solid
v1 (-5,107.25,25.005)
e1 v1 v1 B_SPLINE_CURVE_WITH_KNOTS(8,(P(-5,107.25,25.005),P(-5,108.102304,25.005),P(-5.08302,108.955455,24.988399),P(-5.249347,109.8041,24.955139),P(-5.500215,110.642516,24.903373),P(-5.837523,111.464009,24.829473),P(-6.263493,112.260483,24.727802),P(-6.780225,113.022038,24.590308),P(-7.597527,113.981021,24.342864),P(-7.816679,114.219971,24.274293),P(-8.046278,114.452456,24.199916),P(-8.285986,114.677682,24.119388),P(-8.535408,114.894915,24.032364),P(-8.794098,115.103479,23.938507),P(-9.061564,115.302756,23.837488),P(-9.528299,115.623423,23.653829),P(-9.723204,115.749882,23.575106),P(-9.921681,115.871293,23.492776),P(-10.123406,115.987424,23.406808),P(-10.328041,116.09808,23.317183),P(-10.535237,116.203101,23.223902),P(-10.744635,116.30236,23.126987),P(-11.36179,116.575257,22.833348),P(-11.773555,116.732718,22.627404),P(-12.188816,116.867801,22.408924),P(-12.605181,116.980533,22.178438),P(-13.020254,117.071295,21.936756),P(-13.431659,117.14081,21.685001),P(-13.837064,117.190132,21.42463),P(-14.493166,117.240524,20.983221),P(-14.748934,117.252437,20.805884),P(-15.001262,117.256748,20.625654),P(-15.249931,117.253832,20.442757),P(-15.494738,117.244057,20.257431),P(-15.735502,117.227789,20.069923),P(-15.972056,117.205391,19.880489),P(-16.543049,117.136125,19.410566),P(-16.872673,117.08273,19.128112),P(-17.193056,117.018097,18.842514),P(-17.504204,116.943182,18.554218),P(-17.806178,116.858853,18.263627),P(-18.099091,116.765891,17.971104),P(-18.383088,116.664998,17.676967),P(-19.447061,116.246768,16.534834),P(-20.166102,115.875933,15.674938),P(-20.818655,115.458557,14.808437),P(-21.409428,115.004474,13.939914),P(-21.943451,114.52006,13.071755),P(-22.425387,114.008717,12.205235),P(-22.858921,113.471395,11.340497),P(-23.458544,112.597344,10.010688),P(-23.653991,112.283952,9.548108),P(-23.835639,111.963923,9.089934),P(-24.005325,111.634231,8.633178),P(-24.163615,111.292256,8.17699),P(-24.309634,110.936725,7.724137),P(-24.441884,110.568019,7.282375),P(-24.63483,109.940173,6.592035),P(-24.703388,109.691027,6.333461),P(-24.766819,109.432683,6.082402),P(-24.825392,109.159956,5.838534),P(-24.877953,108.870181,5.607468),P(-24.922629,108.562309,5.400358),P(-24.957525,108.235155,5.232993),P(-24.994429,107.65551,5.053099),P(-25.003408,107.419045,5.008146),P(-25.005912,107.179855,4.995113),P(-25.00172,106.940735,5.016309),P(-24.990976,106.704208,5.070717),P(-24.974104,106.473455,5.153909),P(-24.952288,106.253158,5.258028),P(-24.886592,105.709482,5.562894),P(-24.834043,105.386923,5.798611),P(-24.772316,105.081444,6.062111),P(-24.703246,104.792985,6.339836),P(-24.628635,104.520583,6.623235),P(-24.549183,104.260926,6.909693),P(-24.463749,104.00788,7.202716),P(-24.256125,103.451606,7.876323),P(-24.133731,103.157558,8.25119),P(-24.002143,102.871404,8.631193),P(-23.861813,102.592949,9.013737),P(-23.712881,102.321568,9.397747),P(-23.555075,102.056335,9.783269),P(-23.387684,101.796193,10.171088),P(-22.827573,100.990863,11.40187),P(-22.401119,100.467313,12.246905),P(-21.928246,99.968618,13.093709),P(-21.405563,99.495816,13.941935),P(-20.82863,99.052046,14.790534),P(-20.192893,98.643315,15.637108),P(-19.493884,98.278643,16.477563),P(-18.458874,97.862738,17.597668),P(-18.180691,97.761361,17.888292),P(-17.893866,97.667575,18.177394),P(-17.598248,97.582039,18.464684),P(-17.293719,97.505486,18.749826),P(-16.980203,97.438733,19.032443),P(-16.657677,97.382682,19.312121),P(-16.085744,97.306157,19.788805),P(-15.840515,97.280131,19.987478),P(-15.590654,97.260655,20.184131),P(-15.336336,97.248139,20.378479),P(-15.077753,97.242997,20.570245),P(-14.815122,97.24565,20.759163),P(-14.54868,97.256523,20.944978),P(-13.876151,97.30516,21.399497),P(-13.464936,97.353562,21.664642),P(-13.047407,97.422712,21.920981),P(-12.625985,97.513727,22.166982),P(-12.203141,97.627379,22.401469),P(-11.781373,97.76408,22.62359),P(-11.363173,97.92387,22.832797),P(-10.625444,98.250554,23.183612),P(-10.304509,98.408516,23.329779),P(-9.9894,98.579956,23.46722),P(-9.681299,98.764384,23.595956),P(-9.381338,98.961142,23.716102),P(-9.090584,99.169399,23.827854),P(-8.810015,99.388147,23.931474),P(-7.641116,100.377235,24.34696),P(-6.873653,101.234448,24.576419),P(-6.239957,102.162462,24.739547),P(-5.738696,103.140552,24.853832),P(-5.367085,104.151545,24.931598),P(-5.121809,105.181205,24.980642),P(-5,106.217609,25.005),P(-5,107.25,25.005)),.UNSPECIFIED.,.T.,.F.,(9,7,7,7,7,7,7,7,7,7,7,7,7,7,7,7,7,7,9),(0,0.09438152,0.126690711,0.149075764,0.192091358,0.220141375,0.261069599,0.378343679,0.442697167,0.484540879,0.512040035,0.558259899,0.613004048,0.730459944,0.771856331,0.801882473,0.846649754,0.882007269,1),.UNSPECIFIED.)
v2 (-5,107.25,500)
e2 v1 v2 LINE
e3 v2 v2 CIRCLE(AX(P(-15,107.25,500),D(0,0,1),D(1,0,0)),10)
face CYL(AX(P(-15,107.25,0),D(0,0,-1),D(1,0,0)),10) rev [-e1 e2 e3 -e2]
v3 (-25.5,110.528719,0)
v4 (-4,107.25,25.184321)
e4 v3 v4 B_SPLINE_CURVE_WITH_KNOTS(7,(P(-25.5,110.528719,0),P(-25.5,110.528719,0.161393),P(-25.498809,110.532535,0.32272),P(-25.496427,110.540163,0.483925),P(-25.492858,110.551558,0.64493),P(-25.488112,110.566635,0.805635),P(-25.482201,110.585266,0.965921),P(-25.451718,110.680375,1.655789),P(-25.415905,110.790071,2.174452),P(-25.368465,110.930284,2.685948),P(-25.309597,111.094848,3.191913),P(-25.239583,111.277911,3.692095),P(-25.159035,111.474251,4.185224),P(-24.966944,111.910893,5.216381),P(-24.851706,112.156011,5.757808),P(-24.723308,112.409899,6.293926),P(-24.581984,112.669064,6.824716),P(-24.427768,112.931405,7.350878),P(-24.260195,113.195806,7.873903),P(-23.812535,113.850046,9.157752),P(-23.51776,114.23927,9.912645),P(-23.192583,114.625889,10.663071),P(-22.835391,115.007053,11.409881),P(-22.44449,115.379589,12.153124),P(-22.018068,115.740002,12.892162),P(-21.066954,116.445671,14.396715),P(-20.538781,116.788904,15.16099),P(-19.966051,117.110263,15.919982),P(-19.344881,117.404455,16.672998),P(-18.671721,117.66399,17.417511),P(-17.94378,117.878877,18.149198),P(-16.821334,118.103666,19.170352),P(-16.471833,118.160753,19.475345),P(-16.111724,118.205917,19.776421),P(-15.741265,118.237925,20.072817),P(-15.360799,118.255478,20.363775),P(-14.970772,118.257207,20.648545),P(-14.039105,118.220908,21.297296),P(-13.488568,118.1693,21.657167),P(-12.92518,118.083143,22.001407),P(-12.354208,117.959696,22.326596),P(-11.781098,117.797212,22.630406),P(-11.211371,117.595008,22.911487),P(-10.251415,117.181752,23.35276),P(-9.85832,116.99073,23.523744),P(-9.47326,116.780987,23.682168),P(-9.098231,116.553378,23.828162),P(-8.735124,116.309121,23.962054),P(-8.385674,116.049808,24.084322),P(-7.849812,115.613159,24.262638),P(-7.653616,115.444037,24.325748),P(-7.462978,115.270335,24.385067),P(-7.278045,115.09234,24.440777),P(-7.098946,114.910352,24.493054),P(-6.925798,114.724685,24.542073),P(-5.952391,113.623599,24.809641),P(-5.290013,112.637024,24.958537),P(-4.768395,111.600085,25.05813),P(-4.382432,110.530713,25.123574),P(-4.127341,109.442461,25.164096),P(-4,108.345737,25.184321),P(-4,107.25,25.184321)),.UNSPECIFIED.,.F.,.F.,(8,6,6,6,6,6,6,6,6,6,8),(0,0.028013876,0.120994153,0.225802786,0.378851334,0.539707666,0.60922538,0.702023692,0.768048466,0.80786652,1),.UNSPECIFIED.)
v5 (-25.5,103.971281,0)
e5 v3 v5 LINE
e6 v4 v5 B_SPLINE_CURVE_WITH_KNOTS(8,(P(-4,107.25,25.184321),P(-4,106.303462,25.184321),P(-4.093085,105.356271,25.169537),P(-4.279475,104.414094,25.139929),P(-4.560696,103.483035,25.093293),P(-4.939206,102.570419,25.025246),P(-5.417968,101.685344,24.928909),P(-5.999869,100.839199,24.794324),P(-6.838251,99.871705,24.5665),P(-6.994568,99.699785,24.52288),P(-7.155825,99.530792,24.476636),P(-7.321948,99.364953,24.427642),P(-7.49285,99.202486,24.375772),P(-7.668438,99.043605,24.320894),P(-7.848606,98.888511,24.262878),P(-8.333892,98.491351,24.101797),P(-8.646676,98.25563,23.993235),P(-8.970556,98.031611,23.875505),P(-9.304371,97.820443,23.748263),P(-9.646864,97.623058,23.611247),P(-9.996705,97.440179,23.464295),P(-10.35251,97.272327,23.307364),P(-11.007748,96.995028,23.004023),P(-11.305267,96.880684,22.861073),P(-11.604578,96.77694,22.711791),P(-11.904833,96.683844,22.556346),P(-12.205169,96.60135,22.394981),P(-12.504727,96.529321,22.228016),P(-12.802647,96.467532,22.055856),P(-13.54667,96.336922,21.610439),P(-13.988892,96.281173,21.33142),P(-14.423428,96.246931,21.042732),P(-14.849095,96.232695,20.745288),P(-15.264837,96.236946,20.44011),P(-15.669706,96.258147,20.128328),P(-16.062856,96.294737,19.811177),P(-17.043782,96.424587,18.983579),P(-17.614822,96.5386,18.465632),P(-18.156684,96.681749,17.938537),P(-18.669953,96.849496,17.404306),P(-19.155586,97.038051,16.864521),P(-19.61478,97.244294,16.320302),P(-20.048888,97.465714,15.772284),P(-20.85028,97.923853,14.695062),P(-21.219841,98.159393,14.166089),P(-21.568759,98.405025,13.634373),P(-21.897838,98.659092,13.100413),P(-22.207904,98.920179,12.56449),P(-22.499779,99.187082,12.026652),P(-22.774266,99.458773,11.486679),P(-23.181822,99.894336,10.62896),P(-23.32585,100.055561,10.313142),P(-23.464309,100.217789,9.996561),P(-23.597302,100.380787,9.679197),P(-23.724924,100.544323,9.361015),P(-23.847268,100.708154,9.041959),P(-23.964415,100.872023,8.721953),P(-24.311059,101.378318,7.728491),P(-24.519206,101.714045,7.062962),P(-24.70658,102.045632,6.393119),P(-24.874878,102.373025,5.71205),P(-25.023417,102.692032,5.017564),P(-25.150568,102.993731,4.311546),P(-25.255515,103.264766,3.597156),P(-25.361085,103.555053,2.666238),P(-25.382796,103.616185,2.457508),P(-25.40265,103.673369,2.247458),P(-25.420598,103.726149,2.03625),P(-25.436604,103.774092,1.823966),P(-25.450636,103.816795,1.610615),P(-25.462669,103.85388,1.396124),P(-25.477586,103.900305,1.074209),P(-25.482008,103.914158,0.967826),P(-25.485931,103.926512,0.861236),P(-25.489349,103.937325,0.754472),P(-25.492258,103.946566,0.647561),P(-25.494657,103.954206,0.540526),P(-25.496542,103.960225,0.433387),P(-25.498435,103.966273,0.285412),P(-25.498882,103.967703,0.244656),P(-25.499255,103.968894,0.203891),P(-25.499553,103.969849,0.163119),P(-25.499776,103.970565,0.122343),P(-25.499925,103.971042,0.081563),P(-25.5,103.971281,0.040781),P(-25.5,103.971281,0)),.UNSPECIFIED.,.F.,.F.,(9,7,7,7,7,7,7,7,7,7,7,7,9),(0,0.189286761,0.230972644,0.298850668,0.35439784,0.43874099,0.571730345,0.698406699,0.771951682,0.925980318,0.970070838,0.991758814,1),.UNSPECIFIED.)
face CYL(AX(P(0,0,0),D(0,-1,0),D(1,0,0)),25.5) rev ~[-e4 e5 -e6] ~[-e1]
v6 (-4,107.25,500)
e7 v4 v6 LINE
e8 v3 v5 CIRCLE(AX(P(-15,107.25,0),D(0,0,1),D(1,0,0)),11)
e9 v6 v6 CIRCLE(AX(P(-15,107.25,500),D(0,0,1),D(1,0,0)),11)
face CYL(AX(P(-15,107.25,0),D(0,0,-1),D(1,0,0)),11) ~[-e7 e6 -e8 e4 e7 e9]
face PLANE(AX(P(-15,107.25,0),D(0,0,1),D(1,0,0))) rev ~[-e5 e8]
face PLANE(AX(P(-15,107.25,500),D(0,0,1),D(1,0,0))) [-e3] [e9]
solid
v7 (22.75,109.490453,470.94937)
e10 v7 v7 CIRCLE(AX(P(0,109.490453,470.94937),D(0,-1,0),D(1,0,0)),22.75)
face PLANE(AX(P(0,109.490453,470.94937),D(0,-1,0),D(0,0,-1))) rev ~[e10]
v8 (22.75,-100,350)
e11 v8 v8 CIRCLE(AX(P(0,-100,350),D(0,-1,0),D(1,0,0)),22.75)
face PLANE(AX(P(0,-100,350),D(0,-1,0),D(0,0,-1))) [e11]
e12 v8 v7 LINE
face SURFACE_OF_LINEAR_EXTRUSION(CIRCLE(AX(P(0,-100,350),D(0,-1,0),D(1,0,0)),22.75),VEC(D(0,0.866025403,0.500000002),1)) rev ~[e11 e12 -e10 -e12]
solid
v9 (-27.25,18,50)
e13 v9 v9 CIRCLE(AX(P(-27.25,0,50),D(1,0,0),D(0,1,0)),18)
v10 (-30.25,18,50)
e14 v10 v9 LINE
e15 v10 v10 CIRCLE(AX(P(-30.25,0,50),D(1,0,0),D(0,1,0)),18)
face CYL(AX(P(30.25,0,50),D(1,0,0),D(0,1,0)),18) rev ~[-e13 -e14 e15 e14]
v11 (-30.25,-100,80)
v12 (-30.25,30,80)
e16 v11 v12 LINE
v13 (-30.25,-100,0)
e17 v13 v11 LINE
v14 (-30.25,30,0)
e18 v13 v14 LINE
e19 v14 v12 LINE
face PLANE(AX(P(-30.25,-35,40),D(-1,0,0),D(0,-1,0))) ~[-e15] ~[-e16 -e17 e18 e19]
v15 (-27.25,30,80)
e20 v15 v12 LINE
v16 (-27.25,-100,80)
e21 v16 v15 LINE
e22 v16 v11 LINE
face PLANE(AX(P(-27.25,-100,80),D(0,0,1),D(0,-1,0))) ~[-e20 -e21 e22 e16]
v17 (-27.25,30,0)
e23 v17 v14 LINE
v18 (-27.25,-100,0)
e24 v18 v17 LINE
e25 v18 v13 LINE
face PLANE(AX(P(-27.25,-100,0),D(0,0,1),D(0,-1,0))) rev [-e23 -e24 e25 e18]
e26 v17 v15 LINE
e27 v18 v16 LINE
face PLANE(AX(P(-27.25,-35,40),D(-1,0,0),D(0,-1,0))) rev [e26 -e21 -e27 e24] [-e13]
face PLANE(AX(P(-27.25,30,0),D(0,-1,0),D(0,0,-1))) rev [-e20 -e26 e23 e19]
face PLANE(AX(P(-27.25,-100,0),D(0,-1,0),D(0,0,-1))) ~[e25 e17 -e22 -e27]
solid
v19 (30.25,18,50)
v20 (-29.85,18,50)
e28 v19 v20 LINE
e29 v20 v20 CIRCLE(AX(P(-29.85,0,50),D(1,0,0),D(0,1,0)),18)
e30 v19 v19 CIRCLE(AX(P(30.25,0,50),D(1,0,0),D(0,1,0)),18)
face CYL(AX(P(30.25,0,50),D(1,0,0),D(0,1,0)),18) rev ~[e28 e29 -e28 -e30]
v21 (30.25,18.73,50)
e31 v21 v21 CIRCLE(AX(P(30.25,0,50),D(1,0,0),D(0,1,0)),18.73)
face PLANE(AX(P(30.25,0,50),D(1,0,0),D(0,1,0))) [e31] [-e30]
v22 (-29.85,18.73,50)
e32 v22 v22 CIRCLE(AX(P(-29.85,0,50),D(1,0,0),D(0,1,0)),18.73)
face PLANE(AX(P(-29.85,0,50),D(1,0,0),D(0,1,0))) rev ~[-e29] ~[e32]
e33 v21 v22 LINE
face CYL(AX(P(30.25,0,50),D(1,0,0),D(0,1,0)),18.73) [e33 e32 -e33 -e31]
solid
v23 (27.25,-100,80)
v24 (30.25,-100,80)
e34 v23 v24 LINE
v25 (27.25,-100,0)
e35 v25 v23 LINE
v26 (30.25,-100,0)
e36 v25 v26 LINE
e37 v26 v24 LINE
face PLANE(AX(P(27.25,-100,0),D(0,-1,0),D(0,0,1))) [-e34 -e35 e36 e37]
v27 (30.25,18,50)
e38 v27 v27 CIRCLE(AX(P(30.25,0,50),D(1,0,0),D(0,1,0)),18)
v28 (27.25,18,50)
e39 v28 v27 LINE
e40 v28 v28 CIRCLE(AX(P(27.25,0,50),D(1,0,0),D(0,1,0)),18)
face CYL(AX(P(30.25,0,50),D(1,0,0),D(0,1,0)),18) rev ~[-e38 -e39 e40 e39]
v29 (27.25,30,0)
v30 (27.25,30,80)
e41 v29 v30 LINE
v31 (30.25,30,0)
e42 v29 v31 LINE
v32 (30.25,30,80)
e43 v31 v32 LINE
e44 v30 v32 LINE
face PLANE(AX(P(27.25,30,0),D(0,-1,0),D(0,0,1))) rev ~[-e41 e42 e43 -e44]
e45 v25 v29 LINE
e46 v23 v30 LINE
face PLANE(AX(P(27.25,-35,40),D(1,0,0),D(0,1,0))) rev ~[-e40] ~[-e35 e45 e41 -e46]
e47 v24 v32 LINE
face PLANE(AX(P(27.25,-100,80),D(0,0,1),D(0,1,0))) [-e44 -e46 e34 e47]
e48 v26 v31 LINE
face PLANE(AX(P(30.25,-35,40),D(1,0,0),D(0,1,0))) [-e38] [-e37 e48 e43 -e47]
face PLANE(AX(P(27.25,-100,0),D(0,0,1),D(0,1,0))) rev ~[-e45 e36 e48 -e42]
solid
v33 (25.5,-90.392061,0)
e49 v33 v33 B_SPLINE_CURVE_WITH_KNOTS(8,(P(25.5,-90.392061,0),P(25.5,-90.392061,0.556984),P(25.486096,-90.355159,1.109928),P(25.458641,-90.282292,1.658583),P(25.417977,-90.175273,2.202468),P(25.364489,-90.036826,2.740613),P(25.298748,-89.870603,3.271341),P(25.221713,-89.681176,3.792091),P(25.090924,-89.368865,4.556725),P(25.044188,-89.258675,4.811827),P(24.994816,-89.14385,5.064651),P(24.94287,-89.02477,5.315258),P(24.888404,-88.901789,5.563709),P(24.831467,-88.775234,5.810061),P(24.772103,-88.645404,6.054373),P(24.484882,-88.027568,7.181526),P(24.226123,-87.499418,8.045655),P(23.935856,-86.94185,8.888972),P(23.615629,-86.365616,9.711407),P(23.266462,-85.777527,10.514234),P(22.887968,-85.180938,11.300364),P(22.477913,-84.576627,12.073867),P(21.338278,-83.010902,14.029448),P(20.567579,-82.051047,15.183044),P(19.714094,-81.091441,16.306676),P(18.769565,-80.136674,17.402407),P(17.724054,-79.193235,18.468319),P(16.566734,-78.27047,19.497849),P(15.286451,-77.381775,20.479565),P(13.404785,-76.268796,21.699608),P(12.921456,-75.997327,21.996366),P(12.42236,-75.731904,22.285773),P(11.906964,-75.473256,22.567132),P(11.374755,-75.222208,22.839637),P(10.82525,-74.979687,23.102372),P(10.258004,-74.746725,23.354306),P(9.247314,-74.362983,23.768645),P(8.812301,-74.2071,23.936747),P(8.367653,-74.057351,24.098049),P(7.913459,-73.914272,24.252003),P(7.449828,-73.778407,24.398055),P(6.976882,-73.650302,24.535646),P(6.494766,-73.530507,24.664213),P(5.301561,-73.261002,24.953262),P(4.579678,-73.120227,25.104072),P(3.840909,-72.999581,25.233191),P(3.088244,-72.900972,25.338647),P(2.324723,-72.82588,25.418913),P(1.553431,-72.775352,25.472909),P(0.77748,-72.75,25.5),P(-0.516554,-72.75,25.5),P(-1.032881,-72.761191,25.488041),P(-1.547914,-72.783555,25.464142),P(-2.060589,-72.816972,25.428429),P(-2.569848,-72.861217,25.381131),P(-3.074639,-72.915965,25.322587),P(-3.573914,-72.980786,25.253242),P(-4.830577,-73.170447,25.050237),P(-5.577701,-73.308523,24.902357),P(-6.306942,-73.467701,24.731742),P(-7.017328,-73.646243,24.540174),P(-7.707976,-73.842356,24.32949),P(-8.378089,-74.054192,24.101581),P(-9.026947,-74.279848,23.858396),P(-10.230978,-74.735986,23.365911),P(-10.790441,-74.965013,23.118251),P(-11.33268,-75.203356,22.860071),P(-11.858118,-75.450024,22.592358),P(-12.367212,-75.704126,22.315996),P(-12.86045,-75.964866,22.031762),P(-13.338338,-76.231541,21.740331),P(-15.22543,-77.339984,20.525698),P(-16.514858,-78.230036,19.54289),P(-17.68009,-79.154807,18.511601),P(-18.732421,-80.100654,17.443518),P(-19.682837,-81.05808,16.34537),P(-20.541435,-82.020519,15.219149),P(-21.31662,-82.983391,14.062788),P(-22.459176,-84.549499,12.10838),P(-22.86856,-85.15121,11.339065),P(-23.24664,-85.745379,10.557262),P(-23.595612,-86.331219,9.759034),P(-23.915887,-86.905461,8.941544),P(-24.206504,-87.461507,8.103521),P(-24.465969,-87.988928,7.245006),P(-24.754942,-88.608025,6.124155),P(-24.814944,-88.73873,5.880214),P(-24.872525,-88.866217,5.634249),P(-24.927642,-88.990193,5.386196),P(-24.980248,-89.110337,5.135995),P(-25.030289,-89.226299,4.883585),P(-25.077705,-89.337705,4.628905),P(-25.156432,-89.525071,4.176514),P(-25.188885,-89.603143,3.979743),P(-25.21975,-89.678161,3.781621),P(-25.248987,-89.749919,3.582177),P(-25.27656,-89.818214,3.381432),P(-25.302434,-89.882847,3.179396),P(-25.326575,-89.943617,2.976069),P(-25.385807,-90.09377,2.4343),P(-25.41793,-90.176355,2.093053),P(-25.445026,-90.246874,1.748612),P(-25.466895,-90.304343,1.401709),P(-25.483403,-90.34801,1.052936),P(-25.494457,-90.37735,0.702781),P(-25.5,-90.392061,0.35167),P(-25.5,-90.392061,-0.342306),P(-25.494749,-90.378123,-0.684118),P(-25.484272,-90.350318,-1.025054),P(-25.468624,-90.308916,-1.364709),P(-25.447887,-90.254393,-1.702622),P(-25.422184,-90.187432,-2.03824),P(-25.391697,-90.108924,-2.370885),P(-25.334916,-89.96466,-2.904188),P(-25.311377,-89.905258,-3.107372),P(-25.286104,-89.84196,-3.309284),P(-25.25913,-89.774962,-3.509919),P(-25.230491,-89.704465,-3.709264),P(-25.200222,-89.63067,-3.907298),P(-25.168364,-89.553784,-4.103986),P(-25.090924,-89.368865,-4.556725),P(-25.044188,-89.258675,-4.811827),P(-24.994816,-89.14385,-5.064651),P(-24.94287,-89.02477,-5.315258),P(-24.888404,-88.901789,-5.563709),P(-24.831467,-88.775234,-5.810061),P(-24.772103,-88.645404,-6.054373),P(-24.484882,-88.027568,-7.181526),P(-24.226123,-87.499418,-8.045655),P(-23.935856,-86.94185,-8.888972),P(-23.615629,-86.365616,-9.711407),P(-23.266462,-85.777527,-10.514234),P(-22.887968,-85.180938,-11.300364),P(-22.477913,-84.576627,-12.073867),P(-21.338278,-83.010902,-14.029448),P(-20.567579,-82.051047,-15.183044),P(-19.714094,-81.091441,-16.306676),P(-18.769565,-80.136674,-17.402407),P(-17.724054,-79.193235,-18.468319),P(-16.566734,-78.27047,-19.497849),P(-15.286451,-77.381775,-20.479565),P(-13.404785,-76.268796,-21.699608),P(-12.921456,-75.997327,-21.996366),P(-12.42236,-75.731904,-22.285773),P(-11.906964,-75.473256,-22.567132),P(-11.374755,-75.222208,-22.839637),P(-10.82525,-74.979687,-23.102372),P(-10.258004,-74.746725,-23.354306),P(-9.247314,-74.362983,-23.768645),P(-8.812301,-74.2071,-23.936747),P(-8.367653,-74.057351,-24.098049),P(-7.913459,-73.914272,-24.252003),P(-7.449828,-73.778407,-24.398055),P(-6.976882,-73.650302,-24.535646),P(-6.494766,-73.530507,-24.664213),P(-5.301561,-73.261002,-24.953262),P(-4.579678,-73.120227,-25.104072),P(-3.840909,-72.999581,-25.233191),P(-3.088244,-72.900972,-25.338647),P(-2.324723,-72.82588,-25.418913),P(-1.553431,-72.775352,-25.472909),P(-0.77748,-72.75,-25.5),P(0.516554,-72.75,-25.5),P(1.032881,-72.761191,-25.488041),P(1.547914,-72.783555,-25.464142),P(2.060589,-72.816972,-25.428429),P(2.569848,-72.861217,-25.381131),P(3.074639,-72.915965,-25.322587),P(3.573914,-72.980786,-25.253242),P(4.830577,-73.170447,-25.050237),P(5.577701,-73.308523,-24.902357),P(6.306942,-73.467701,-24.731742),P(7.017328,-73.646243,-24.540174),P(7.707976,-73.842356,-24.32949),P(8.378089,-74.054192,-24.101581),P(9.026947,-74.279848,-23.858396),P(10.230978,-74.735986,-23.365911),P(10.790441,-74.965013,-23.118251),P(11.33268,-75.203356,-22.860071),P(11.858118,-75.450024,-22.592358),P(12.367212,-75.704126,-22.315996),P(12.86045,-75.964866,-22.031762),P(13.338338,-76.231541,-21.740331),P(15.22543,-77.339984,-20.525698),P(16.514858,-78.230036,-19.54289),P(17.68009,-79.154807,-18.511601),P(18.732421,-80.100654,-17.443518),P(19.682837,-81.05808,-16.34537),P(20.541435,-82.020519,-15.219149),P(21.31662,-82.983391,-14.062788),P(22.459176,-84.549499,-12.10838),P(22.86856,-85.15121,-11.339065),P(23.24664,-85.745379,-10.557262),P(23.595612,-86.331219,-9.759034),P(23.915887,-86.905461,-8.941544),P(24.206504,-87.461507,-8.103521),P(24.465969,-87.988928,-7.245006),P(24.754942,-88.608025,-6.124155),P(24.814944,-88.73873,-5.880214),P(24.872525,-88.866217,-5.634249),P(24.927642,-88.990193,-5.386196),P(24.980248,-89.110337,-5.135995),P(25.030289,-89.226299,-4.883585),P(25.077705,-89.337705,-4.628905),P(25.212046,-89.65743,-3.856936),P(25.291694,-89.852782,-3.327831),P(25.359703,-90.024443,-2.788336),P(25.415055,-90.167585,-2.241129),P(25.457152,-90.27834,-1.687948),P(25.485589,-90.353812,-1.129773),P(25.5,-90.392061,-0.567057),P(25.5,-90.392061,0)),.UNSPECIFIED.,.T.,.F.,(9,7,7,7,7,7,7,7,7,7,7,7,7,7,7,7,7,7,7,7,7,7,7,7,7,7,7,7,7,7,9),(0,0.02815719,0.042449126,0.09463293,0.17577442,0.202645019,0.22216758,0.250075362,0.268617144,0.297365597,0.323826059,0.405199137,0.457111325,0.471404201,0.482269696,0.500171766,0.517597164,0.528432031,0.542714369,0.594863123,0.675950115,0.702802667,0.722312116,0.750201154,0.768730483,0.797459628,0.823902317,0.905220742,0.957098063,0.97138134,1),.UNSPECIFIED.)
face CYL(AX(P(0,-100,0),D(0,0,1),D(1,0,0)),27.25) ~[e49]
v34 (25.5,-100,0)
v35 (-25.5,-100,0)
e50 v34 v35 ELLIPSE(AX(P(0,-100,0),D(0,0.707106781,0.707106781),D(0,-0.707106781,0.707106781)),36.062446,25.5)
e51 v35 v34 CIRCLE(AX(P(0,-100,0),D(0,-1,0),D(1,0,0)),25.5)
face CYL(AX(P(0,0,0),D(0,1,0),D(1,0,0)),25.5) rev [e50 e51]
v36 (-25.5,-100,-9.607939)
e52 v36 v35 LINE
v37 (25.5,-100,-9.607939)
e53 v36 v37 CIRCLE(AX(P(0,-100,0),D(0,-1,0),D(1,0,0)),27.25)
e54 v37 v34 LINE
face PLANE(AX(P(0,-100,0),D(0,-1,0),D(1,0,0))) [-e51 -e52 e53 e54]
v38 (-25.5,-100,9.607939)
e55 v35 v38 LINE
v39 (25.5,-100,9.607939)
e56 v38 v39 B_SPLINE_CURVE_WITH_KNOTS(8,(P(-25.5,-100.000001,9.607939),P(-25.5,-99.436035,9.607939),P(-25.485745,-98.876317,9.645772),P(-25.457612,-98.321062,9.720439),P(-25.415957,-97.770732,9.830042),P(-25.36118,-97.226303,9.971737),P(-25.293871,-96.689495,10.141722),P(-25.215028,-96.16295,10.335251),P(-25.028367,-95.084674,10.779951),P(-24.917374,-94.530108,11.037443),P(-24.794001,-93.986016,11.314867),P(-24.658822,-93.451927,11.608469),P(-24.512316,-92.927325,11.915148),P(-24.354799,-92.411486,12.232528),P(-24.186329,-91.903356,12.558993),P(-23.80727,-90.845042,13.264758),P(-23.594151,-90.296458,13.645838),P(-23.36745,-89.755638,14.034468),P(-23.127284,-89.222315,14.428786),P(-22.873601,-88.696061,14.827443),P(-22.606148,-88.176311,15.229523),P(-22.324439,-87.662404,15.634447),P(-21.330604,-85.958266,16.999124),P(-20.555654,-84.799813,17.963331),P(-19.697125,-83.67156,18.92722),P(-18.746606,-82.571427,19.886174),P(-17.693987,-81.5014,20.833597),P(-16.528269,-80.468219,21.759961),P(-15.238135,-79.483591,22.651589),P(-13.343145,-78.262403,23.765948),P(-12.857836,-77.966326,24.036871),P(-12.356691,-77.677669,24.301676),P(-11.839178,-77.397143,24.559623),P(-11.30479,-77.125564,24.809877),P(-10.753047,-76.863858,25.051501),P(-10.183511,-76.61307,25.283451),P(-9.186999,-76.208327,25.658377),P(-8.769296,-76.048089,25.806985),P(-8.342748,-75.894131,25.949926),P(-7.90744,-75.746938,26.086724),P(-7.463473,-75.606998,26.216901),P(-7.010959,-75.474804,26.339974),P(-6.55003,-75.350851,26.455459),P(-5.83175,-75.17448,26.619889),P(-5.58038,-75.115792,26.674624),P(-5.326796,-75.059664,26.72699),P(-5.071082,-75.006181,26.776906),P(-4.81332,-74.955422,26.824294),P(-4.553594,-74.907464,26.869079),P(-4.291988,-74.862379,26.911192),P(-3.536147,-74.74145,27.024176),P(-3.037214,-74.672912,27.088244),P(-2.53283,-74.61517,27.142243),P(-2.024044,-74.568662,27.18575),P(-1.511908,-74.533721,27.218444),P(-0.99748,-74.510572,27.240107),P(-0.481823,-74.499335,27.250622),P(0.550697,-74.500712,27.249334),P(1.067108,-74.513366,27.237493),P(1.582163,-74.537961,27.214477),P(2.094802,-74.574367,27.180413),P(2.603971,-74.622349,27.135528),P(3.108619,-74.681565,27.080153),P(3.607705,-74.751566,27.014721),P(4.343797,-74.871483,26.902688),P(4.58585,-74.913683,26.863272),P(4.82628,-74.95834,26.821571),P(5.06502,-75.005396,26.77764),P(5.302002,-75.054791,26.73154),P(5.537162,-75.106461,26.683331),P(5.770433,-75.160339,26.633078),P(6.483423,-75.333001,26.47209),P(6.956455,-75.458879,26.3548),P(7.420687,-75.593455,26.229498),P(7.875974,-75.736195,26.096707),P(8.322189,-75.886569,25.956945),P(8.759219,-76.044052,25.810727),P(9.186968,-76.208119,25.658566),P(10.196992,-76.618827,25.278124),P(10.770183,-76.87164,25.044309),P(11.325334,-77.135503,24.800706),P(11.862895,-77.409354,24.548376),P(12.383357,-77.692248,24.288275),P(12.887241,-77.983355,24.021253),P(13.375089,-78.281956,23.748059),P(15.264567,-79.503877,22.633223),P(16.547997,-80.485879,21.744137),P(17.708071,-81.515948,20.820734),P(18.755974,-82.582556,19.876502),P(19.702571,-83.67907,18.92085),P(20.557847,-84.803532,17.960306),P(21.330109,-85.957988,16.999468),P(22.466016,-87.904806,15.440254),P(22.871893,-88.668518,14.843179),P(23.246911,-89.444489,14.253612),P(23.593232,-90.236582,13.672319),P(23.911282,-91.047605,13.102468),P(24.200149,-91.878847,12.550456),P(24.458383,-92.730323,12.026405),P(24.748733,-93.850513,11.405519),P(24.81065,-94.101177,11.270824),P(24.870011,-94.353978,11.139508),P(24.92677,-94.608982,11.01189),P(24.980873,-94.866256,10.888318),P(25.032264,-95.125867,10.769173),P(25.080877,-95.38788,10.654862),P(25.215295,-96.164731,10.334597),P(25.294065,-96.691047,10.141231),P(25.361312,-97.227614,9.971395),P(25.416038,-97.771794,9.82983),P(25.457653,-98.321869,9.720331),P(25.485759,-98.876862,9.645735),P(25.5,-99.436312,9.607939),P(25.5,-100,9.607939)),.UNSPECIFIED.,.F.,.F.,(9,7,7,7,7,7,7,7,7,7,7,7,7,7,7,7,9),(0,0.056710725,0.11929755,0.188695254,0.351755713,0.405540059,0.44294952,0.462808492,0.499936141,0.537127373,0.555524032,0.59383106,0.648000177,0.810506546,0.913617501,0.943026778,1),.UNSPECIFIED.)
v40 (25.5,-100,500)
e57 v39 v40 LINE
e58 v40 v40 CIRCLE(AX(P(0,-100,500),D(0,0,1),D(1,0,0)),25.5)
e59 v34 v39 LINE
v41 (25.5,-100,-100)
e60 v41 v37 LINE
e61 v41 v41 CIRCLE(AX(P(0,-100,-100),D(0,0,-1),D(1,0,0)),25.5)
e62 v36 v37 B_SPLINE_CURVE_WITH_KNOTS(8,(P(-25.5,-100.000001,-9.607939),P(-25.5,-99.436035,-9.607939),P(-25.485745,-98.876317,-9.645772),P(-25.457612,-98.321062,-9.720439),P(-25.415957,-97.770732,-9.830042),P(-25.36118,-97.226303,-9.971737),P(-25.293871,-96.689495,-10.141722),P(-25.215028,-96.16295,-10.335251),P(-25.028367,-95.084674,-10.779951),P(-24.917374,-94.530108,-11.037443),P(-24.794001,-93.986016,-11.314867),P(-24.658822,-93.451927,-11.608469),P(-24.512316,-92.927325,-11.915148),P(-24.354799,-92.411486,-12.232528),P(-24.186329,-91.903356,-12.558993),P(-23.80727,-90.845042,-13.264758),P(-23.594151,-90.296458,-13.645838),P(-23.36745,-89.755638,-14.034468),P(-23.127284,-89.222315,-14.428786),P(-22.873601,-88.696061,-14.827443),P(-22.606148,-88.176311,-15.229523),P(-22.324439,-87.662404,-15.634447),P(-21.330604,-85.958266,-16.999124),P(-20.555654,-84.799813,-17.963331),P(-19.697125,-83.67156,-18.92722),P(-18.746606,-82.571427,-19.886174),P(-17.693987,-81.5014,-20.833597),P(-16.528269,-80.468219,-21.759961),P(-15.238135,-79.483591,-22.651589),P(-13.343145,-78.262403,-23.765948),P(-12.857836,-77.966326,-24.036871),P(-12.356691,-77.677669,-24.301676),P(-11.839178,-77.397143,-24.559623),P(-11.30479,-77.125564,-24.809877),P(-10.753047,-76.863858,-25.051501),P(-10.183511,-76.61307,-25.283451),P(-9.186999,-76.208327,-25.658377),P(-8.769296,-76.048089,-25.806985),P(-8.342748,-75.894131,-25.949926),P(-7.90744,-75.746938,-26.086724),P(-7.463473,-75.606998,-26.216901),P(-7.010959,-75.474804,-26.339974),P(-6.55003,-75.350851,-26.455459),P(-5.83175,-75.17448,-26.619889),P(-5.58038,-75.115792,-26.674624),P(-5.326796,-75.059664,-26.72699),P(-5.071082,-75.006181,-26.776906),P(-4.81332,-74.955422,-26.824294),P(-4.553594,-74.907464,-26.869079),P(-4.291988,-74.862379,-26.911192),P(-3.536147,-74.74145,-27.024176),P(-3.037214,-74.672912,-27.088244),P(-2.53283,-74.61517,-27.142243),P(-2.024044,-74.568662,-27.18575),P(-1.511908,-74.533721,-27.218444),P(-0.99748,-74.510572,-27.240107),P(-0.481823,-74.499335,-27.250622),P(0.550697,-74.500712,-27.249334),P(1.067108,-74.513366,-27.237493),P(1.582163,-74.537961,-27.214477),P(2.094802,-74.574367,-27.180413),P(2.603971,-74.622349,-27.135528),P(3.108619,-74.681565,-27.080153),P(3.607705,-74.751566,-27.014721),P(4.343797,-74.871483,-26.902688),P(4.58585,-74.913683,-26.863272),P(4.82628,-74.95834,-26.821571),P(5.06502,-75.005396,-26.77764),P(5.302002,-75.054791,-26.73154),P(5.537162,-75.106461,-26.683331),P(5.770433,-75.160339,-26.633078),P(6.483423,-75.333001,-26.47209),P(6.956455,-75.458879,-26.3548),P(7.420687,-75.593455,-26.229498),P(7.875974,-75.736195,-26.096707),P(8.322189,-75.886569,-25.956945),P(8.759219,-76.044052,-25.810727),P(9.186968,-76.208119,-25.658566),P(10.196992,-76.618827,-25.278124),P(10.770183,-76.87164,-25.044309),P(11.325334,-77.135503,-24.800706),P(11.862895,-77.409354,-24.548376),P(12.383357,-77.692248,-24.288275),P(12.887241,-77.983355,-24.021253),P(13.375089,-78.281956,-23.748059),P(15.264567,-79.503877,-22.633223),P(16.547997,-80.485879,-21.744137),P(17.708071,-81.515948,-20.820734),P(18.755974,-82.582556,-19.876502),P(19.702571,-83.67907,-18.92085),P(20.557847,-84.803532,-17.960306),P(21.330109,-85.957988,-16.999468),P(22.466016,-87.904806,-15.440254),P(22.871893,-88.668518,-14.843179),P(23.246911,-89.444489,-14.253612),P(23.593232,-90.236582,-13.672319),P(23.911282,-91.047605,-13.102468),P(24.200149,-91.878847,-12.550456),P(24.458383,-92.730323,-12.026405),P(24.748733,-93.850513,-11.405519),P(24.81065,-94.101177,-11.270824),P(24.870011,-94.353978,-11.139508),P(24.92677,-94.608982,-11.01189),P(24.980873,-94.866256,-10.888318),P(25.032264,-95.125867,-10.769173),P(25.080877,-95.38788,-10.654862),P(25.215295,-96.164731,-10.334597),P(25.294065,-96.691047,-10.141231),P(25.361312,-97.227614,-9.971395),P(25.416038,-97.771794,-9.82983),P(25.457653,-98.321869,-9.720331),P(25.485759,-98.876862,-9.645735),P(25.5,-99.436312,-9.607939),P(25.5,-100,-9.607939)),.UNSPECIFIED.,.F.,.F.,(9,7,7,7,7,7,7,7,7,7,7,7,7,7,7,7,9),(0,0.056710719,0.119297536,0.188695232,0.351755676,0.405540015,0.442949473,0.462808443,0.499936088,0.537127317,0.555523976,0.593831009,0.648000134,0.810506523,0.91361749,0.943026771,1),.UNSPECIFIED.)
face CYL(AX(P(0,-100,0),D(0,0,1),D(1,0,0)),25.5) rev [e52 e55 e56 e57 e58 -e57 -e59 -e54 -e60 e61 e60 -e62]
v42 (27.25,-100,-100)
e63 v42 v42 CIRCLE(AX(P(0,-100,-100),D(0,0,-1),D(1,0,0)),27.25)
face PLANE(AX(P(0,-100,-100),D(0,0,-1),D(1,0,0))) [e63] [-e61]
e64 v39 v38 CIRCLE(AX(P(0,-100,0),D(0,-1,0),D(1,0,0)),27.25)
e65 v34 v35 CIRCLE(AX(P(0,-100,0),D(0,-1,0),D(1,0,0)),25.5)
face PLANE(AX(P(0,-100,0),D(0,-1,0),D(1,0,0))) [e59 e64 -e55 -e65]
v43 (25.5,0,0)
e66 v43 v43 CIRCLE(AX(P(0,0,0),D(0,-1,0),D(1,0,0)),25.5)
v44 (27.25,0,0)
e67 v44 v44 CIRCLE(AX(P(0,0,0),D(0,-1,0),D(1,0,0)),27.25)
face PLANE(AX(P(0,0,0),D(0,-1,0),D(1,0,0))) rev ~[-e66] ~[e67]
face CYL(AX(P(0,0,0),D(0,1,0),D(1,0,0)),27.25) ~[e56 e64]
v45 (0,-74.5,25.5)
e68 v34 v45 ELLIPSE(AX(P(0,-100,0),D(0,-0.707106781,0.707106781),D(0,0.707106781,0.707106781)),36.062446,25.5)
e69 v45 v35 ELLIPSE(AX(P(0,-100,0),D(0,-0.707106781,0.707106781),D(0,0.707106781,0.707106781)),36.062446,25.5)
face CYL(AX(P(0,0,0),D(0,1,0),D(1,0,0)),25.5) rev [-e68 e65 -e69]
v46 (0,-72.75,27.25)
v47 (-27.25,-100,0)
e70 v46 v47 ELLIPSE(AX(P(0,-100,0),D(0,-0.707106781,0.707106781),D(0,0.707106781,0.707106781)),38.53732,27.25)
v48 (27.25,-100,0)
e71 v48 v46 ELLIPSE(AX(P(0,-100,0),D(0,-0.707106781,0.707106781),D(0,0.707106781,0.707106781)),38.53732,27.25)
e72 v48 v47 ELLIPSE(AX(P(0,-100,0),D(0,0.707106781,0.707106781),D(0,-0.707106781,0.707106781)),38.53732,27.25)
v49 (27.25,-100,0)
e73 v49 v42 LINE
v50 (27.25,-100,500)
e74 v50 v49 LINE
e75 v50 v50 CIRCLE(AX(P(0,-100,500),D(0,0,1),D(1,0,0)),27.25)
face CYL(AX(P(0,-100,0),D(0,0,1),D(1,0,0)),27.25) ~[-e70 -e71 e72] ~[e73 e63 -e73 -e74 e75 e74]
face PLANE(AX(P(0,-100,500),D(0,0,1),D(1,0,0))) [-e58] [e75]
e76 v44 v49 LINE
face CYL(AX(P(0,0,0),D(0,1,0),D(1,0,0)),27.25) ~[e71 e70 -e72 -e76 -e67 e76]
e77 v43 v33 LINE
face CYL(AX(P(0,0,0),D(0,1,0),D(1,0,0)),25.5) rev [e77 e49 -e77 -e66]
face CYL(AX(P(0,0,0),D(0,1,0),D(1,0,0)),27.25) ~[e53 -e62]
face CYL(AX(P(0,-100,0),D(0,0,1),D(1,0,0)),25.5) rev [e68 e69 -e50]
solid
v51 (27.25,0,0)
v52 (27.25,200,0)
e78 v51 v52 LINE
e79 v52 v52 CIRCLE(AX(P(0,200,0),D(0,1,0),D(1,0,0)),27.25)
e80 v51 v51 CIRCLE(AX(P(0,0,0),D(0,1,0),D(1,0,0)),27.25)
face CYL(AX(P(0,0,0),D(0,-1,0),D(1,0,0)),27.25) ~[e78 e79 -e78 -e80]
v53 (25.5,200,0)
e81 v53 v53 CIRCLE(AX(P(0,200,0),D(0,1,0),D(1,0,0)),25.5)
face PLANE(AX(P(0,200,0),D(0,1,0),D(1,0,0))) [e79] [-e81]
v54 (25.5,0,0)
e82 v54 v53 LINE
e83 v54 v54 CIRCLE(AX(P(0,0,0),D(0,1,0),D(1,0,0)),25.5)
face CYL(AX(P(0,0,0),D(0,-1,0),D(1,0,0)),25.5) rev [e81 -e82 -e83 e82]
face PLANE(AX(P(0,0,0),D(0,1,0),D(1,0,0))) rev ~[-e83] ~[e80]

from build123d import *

# Parameters (mm, degrees)
F0_R        = 27.25
F0_R_2      = 25.5
F0_R_3      = 11
F0_R_4      = 10
F1_DEPTH    = 500
F1_FACE_R   = 27.25
F1_FACE_R_2 = 25.5
F2_DEPTH    = 100
F3_R        = 27.25
F3_R_2      = 25.5
F4_DEPTH    = 100
F4_FACE_R   = 27.25
F4_FACE_R_2 = 25.5
F5_DEPTH    = 200
F6_DEPTH    = 200
F9_W        = 130
F9_H        = 80
F10_DEPTH   = 3
F12_R       = 18.73
F12_R_2     = 18
F13_DEPTH   = 60.1
F14_DEPTH   = 88
F18_R       = 22.75


with BuildPart() as f1:
    # F0 (on Top) → F1 (new body)
    with BuildSketch(Plane.XY):
        with Locations((0, -100)):
            Circle(F0_R)
        with Locations((0, -100)):
            Circle(F0_R_2, mode=Mode.SUBTRACT)
        with Locations((-15, 107.25)):
            Circle(F0_R_3)
        with Locations((-15, 107.25)):
            Circle(F0_R_4, mode=Mode.SUBTRACT)
    extrude(amount=F1_DEPTH)



with BuildPart() as f2:
    # F1_face (on face) → F2 (new body)
    with BuildSketch(Plane(origin=(0, -100, 0), x_dir=(1, 0, 0), z_dir=(0, 0, -1))):
        Circle(F1_FACE_R)
        Circle(F1_FACE_R_2, mode=Mode.SUBTRACT)
    extrude(amount=F2_DEPTH)


with BuildPart() as f1_1:
    add(f1.part)

    add(f2.part)  # F4 merges F2
    # F3 (on Front) → F4 (join)
    with BuildSketch(Plane.XZ):
        Circle(F3_R)
        Circle(F3_R_2, mode=Mode.SUBTRACT)
    extrude(amount=F4_DEPTH)


with BuildPart() as f5:
    # F4_face (on face) → F5 (new body)
    with BuildSketch(Plane(origin=(0, 0, 0), x_dir=(1, 0, 0), z_dir=(0, 1, 0))):
        Circle(F4_FACE_R)
        Circle(F4_FACE_R_2, mode=Mode.SUBTRACT)
    extrude(amount=F5_DEPTH)


with BuildPart() as f6:
    # F3 (on Front) → F6 (new body)
    with BuildSketch(Plane.XZ):
        Circle(F3_R_2)
    extrude(amount=-F6_DEPTH)


with BuildPart() as f1_2:
    add(f1_1.part)

    # F7: cut F6
    add(f6.part, mode=Mode.SUBTRACT)


with BuildPart() as f10:
    # F9 (on offset) → F10 (new body)
    with BuildSketch(Plane.YZ.offset(27.25)):
        with Locations((-35, 40)):
            Rectangle(F9_W, F9_H)
    extrude(amount=F10_DEPTH)


with BuildPart() as f11_1:
    # F11: instance of F10
    add(f10.part.mirror(Plane.YZ))


with BuildPart() as f13:
    # F12 (on face) → F13 (new body)
    with BuildSketch(Plane.YZ.offset(30.25)):
        with Locations((0, 50)):
            Circle(F12_R)
        with Locations((0, 50)):
            Circle(F12_R_2, mode=Mode.SUBTRACT)
    extrude(amount=-F13_DEPTH)


with BuildPart() as f14:
    # F12 (on face) → F14 (new body, symmetric)
    with BuildSketch(Plane.YZ.offset(30.25)):
        with Locations((0, 50)):
            Circle(F12_R_2)
    extrude(amount=F14_DEPTH, both=True)


with BuildPart() as f10_1:
    add(f10.part)

    # F15: cut F14
    add(f14.part, mode=Mode.SUBTRACT)


with BuildPart() as f11_1_1:
    add(f11_1.part)

    # F15: cut F14
    add(f14.part, mode=Mode.SUBTRACT)


with BuildPart() as f13_1:
    add(f13.part)

    # F15: cut F14
    add(f14.part, mode=Mode.SUBTRACT)


with BuildPart() as f19:
    # F19: sweep along a path in F16
    with BuildLine(Plane.YZ) as f19_path:
        Line((-100, 350), (109.490453, 470.94937))
    # F18 (on offset) → F19 (sweep)
    with BuildSketch(Plane.XZ.offset(100)):
        with Locations((0, 350)):
            Circle(F18_R)
    sweep(path=f19_path.line)


solid = Compound([f5.part, f1_2.part, f10_1.part, f11_1_1.part, f13_1.part, f19.part])
